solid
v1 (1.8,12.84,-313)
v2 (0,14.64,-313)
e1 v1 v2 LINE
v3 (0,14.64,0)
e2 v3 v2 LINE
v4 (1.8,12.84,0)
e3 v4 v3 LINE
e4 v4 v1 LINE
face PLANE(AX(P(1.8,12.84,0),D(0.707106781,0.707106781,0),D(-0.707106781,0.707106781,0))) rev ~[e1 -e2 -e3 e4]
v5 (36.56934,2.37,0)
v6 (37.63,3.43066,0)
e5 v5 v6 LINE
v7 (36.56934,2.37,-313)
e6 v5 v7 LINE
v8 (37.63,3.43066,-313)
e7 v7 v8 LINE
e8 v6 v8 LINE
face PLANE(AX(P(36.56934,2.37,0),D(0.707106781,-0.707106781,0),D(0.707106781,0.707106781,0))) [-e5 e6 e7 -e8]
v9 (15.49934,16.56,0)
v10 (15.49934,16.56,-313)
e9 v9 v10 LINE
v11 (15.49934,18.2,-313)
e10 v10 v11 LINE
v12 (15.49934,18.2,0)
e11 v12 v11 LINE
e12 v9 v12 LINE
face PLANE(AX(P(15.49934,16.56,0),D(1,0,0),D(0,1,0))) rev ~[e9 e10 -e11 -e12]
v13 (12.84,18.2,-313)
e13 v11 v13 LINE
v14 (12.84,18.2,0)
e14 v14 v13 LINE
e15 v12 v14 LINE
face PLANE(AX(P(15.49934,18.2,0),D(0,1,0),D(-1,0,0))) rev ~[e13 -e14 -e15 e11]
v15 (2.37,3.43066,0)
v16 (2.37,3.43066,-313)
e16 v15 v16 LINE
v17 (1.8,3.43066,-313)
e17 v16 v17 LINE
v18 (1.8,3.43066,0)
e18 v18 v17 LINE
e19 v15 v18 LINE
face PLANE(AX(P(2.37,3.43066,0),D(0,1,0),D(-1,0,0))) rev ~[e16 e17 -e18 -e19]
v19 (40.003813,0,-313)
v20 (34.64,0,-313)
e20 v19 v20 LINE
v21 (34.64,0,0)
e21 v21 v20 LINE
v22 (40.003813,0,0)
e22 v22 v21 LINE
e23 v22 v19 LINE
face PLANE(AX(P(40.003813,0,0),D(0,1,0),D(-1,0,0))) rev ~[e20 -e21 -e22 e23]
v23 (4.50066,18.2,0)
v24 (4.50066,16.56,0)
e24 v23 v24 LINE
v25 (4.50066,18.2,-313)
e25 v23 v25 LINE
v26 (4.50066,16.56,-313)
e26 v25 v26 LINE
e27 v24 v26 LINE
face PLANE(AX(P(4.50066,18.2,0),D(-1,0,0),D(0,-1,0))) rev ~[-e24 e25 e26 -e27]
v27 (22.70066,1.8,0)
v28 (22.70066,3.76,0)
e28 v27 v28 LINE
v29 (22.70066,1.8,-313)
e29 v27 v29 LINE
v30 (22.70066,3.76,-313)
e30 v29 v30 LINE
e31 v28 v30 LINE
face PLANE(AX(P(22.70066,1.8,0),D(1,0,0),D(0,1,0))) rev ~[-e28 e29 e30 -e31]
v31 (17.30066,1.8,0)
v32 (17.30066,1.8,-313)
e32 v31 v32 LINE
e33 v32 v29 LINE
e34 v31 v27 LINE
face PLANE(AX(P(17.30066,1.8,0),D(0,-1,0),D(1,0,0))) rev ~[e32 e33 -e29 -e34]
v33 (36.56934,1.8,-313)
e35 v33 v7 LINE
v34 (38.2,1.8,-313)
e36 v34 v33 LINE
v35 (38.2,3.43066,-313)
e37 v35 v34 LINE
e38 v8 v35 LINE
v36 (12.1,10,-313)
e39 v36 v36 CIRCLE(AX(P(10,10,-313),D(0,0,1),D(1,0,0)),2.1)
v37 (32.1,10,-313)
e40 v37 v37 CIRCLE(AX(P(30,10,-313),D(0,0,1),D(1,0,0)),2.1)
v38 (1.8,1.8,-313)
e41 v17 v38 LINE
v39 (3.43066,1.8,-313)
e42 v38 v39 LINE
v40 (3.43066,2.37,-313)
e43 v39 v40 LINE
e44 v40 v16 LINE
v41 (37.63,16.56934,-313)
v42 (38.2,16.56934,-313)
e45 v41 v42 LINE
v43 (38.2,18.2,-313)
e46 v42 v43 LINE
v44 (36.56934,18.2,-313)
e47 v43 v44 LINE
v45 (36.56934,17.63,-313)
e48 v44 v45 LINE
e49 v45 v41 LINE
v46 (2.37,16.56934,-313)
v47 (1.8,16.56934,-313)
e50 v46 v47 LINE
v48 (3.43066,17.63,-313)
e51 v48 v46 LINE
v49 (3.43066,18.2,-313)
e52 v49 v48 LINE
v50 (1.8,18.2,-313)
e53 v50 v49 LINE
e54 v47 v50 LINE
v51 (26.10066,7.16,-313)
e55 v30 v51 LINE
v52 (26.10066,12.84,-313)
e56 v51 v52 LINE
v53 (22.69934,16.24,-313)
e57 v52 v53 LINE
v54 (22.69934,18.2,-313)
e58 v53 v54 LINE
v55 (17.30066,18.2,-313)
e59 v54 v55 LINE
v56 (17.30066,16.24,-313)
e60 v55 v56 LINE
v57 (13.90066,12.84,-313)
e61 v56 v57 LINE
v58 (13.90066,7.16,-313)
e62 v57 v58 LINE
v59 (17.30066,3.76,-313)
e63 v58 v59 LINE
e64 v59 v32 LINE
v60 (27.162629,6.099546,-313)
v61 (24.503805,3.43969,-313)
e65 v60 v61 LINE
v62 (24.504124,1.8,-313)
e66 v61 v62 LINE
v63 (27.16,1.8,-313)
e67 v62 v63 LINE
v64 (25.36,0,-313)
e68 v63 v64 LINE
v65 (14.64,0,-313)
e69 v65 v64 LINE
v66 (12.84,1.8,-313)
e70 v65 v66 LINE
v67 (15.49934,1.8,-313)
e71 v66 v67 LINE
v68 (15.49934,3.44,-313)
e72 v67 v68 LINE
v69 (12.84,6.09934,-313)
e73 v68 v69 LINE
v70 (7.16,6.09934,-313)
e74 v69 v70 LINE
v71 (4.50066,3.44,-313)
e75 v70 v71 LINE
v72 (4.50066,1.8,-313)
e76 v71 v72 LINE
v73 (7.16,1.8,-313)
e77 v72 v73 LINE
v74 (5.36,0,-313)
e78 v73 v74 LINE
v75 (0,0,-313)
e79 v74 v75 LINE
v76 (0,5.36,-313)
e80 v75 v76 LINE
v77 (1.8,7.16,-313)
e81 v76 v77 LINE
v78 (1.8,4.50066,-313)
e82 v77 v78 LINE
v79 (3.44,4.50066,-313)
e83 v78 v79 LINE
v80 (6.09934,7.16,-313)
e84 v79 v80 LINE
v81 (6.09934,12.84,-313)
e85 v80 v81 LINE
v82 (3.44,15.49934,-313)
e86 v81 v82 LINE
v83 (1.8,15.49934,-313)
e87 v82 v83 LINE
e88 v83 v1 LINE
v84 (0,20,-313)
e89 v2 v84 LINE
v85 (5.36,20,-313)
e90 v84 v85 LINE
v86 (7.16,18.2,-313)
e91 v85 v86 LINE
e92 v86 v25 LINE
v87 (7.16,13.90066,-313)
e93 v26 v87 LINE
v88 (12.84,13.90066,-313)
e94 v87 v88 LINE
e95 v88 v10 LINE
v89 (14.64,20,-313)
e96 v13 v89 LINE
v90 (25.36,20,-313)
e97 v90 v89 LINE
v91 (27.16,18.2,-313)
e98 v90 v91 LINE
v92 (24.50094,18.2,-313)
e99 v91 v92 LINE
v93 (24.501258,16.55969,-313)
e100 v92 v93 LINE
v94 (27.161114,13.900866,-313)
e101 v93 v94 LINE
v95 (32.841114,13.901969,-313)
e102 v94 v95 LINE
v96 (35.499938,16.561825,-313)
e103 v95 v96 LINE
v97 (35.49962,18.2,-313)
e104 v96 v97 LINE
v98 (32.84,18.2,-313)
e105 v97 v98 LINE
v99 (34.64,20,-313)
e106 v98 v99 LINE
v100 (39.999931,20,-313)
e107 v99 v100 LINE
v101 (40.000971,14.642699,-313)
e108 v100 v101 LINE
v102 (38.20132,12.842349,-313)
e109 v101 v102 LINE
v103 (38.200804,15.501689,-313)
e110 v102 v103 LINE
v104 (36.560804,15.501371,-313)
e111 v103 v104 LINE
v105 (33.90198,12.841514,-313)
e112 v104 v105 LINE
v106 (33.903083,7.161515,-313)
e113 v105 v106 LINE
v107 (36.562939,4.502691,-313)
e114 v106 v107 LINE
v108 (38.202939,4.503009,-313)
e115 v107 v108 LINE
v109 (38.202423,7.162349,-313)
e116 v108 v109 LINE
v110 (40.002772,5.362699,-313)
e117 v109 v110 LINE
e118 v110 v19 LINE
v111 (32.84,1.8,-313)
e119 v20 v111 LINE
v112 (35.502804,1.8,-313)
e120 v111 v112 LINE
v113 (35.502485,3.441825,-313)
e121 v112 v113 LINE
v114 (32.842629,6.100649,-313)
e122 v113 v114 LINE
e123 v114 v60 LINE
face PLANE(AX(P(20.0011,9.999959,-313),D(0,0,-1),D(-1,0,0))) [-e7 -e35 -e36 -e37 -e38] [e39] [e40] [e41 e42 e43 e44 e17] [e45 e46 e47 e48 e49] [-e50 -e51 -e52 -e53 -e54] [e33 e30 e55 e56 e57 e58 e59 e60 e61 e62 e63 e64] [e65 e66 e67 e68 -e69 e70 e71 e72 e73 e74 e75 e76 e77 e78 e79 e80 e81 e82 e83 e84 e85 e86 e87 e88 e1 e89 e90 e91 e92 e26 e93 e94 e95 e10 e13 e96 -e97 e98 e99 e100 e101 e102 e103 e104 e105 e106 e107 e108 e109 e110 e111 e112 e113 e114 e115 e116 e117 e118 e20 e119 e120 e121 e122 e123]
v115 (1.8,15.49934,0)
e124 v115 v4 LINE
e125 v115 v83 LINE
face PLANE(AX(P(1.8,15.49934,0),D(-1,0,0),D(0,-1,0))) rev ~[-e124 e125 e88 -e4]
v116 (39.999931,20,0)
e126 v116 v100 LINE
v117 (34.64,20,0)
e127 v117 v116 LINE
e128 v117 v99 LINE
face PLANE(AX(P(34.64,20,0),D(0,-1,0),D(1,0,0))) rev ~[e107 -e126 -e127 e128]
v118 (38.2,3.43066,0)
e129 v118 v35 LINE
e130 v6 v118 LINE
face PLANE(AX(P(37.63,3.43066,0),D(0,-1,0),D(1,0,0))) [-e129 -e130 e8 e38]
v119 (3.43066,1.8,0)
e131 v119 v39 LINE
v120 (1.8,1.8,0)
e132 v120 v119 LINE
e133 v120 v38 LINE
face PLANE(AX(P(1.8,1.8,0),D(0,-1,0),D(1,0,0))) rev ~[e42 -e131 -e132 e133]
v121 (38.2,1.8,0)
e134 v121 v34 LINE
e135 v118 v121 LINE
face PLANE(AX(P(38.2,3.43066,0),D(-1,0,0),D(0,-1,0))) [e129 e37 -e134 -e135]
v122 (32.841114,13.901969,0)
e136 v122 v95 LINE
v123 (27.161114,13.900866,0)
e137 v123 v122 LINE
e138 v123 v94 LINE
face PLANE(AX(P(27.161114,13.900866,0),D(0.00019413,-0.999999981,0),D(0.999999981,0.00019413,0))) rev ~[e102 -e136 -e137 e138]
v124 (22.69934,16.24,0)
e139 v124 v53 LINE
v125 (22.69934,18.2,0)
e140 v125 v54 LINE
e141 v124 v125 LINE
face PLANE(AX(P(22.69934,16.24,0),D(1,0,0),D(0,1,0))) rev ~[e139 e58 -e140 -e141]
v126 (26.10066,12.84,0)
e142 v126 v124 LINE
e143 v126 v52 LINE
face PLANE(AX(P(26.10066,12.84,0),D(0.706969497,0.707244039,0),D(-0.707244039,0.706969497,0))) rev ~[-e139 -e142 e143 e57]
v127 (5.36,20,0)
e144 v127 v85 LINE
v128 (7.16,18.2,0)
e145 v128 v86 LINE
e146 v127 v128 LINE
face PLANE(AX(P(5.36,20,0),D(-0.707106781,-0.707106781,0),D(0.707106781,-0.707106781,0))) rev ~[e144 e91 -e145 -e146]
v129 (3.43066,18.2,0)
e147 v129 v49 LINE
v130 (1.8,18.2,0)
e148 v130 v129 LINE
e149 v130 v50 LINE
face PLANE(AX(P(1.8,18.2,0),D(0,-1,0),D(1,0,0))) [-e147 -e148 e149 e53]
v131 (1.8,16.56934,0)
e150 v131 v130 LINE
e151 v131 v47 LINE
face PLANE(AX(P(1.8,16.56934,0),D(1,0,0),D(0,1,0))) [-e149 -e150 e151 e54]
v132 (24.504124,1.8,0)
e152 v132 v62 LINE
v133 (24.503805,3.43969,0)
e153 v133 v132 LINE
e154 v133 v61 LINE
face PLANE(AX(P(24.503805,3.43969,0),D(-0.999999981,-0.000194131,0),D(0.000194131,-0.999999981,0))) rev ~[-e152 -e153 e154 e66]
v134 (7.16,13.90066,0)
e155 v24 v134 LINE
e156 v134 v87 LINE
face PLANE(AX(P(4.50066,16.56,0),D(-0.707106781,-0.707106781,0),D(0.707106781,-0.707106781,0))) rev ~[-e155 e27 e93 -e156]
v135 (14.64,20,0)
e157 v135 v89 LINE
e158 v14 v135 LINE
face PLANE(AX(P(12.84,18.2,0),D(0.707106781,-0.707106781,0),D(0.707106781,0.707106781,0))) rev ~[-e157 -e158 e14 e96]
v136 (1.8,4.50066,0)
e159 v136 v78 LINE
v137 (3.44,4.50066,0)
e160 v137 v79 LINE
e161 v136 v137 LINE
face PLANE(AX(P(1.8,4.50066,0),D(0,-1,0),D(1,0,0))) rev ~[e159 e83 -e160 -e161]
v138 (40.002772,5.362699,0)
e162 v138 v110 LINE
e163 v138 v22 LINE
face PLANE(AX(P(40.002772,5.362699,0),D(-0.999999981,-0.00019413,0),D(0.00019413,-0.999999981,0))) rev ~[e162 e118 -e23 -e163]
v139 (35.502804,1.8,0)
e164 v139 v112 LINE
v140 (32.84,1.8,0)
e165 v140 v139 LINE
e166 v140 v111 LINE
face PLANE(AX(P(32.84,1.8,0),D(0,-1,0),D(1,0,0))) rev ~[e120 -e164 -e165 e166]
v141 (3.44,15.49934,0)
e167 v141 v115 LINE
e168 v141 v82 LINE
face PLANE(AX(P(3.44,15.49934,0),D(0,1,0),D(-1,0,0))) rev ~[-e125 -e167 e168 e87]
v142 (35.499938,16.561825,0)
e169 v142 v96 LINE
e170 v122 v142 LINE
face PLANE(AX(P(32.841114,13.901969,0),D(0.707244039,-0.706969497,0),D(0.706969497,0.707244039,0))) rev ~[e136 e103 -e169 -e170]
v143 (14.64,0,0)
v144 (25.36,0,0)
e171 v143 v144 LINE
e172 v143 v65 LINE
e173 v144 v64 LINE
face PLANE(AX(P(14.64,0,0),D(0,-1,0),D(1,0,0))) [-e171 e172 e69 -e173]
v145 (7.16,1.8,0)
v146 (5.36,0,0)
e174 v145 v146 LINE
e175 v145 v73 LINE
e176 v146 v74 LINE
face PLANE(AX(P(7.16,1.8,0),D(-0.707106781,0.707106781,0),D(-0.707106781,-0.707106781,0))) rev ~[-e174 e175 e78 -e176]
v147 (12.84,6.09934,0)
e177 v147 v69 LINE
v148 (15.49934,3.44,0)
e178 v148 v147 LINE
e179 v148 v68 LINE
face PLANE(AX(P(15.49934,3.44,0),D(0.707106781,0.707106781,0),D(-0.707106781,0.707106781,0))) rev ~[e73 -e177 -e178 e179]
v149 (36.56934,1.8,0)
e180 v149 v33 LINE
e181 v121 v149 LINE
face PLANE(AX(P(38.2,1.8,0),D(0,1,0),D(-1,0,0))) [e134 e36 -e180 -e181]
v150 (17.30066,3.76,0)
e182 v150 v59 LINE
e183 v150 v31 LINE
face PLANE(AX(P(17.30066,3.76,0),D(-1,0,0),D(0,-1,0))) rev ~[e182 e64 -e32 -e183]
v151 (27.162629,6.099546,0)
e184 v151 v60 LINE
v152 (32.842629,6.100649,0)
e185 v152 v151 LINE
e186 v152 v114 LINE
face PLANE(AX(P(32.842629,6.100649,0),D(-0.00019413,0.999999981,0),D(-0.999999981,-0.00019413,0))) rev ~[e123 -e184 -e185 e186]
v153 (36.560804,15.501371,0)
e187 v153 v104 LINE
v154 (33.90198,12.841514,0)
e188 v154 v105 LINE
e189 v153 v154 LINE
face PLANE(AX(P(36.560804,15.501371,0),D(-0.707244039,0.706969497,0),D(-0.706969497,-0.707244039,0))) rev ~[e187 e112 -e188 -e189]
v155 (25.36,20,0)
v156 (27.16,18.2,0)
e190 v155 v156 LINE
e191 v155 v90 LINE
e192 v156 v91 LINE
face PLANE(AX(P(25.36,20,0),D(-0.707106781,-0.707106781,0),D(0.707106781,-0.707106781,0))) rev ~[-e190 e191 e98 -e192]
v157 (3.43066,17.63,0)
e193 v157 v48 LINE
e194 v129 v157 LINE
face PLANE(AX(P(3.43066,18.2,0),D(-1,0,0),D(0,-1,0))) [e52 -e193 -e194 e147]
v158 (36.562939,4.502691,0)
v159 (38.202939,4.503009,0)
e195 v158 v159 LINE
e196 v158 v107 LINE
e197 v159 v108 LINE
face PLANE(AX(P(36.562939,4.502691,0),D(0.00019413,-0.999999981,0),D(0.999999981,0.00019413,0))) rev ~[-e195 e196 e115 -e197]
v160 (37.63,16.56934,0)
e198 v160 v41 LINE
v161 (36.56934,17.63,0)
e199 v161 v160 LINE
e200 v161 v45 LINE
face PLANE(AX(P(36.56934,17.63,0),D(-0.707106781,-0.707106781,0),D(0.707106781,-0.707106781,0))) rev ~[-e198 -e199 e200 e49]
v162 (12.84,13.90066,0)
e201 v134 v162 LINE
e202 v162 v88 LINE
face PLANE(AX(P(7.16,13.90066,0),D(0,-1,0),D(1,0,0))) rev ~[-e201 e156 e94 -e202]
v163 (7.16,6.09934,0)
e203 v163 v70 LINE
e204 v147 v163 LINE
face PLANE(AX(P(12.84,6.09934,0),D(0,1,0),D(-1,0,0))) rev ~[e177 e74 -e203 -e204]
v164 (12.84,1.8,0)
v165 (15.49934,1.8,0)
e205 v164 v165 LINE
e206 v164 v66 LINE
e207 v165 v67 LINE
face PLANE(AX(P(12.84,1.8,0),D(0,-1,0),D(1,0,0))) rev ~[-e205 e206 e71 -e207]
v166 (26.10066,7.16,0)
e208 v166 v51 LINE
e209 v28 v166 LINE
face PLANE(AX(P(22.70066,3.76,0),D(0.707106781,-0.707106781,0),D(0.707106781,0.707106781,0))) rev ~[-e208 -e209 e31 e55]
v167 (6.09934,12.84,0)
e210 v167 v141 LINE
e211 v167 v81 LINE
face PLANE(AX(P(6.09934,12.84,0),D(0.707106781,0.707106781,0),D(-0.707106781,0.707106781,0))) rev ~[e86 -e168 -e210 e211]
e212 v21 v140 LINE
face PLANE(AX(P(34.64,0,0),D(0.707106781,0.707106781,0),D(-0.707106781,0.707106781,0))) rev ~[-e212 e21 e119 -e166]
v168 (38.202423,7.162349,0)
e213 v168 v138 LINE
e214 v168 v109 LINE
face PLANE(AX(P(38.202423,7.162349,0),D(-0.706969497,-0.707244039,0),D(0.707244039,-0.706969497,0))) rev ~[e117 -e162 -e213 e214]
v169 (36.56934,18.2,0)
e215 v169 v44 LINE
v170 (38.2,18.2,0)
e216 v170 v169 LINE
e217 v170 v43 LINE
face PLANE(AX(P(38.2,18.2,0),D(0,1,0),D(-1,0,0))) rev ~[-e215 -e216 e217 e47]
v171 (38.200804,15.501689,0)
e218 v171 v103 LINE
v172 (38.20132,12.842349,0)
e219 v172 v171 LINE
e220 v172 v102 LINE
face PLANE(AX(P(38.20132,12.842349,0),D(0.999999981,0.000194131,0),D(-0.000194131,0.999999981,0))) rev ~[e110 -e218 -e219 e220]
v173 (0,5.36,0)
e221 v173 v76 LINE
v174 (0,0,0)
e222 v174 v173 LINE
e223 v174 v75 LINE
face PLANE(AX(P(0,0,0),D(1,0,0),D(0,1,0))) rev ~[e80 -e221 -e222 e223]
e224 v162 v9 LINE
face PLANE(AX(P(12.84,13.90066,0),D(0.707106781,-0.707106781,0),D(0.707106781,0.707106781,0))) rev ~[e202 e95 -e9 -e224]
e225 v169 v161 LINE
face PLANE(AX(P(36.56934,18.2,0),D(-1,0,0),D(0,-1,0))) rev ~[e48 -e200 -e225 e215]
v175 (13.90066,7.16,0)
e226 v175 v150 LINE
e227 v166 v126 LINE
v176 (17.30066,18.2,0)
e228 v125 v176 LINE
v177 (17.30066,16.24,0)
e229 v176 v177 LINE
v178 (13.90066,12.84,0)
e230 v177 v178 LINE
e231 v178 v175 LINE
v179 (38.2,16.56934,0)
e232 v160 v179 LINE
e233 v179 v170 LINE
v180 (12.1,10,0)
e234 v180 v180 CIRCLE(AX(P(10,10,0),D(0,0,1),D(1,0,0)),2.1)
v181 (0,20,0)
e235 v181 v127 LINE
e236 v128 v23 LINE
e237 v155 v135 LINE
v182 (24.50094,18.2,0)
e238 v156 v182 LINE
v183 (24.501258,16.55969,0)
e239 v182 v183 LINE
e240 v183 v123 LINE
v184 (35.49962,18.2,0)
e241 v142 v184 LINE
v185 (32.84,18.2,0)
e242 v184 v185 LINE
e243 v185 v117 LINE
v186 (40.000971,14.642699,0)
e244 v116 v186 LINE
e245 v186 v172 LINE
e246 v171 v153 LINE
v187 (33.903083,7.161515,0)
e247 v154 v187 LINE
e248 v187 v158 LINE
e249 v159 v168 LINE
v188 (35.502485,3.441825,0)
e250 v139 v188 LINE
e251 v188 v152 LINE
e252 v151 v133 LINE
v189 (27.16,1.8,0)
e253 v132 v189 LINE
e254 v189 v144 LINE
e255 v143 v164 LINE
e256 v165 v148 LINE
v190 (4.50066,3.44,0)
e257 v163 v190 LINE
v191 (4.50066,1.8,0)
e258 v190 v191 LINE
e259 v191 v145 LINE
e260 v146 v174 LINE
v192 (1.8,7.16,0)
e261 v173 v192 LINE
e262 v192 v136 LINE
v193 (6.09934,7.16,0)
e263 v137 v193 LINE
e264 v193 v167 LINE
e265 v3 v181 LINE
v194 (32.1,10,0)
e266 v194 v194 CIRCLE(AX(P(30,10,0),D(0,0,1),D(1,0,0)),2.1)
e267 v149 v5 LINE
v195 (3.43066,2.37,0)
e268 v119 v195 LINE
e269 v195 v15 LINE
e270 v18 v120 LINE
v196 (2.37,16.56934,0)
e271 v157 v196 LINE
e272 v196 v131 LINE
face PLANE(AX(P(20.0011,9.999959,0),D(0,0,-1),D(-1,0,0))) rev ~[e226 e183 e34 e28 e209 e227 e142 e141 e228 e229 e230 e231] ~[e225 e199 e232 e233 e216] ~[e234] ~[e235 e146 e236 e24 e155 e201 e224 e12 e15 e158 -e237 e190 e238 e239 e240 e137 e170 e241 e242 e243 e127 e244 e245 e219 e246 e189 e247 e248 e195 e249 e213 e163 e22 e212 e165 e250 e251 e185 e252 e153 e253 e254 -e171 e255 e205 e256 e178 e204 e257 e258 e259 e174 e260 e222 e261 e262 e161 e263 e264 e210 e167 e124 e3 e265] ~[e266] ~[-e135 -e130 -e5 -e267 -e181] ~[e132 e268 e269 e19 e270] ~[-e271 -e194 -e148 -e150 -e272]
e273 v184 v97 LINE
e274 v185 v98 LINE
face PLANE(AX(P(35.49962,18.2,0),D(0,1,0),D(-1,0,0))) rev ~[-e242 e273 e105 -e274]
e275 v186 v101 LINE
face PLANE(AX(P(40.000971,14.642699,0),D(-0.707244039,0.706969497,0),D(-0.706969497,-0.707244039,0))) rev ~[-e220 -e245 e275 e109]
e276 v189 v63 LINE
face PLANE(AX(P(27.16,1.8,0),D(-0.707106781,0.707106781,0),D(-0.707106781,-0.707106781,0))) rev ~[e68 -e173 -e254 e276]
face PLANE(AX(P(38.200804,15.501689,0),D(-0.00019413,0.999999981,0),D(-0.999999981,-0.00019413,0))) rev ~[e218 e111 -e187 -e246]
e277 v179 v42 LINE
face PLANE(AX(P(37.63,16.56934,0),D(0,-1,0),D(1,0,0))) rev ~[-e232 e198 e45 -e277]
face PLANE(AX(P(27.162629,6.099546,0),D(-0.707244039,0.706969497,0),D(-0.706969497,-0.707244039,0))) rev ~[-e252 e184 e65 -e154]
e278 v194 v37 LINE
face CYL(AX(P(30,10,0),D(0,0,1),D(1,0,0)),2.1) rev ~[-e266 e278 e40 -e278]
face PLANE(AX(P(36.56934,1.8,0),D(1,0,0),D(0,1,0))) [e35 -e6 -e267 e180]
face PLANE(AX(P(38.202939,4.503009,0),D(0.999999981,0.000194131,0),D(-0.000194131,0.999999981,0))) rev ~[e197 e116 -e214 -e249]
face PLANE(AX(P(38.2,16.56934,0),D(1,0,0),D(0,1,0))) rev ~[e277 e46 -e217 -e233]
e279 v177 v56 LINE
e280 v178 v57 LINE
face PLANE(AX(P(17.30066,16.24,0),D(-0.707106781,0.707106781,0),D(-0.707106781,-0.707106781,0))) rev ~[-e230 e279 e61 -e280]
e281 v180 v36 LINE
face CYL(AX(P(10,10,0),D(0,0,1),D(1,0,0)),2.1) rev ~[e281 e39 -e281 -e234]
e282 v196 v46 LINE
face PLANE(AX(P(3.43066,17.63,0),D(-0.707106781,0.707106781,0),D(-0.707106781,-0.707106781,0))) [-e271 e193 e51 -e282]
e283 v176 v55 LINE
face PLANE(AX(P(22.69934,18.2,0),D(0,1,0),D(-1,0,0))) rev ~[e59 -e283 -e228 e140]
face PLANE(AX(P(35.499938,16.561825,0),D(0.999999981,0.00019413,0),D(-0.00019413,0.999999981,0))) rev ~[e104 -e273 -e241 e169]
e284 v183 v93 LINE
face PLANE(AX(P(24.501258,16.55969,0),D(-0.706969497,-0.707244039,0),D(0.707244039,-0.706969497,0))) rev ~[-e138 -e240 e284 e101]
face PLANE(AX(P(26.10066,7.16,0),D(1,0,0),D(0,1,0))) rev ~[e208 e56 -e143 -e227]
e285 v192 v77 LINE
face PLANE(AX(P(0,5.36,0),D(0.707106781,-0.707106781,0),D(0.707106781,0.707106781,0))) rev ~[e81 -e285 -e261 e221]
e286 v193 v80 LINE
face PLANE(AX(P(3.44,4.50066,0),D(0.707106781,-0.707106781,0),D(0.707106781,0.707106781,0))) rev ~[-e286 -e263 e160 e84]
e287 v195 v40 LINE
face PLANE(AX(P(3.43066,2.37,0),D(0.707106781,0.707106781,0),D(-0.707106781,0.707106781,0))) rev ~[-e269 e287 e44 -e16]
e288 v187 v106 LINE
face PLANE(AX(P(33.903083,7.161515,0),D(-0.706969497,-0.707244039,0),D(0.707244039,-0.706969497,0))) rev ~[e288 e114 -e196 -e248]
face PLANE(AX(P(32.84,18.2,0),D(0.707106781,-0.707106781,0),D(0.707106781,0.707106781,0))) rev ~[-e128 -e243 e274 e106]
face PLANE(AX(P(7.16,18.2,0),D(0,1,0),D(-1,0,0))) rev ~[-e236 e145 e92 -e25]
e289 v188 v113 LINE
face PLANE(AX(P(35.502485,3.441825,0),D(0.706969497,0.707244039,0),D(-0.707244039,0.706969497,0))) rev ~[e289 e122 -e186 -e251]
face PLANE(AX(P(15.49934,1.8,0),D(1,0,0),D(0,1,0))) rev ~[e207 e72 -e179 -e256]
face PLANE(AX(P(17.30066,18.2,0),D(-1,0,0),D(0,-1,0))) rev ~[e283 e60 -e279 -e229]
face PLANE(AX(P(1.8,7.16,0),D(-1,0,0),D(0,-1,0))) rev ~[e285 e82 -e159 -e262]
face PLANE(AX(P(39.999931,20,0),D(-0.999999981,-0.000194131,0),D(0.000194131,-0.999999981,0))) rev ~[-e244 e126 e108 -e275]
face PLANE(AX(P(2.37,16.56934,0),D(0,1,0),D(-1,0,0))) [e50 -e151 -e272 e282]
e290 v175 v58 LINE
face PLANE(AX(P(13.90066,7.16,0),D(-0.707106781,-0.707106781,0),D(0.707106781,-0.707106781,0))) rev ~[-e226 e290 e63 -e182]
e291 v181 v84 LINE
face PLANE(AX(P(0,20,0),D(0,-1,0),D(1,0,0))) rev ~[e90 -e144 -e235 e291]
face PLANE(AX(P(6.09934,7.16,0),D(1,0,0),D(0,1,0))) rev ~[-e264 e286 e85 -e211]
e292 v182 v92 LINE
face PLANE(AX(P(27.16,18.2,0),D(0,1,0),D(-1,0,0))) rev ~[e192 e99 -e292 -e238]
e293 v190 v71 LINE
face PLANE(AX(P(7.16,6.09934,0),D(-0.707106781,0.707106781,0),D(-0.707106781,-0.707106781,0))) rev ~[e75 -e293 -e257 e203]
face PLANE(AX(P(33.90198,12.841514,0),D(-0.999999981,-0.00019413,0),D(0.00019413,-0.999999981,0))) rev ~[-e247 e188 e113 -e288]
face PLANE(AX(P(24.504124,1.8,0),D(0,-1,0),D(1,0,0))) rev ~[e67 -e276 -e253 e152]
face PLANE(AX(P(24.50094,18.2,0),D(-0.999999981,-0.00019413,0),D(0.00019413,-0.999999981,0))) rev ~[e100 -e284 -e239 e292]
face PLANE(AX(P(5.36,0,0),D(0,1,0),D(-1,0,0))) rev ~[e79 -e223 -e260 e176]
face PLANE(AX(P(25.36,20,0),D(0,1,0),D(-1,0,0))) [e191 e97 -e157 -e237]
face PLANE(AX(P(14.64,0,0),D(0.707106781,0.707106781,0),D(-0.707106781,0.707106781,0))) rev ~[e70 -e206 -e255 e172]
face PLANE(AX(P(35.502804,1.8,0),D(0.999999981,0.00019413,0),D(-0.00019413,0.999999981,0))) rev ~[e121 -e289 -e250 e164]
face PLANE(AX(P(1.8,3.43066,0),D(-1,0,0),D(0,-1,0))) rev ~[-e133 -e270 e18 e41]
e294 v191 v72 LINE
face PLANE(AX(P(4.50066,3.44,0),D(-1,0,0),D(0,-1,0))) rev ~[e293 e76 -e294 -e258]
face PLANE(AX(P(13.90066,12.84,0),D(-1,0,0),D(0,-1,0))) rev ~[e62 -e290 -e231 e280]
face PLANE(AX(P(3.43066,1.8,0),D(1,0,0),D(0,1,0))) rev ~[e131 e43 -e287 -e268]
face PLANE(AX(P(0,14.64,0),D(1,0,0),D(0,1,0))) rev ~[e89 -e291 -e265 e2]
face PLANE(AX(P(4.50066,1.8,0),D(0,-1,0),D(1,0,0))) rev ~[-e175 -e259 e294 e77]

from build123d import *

# Parameters (mm, degrees)
SKETCH1_R           = 2.1
BOSS_EXTRUDE1_DEPTH = 313


with BuildPart() as part:
    # Sketch1 → Boss-Extrude1 (new body)
    with BuildSketch(Plane.XY):
        Polygon((0, 0), (0, 5.36), (1.8, 7.16), (1.8, 4.500660172), (3.44, 4.500660172), (6.099339828, 7.16), (6.099339828, 12.84), (3.44, 15.499339828), (1.8, 15.499339828), (1.8, 12.84), (0, 14.64), (0, 20), (5.36, 20), (7.16, 18.2), (4.500660172, 18.2), (4.500660172, 16.56), (7.16, 13.900660172), (12.84, 13.900660172), (15.499339828, 16.56), (15.499339828, 18.2), (12.84, 18.2), (14.64, 20), (20, 20), (25.36, 20), (27.16, 18.2), (24.500939946, 18.2), (24.50125838, 16.559689577), (27.161114417, 13.900866058), (32.84111431, 13.901968719), (35.499937829, 16.561824756), (35.49961981, 18.2), (32.84, 18.2), (34.64, 20), (39.999930631, 20), (40.000970647, 14.642698508), (38.201320116, 12.842349107), (38.200803857, 15.501688885), (36.560803888, 15.501370511), (33.901980368, 12.841514474), (33.903083029, 7.161514581), (36.562939066, 4.502691062), (38.202939036, 4.503009436), (38.202422777, 7.162349214), (40.002772178, 5.362698683), (40.003813241, 0), (34.64, 0), (32.84, 1.8), (35.502803549, 1.8), (35.502484821, 3.441825004), (32.842628784, 6.100648523), (27.162628891, 6.099545862), (24.503805372, 3.439689825), (24.504123686, 1.8), (27.16, 1.8), (25.36, 0), (20, 0), (14.64, 0), (12.84, 1.8), (15.499339828, 1.8), (15.499339828, 3.44), (12.84, 6.099339828), (7.16, 6.099339828), (4.500660172, 3.44), (4.500660172, 1.8), (7.16, 1.8), (5.36, 0), align=None)
        with Locations((10, 10)):
            Circle(SKETCH1_R, mode=Mode.SUBTRACT)
        with Locations((30, 10)):
            Circle(SKETCH1_R, mode=Mode.SUBTRACT)
        Polygon((17.300660172, 3.76), (17.300660172, 1.8), (22.700660172, 1.8), (22.700660172, 3.76), (26.100660172, 7.16), (26.100660172, 12.84), (22.699339828, 16.24), (22.699339828, 18.2), (17.300660172, 18.2), (17.300660172, 16.24), (13.900660172, 12.84), (13.900660172, 7.16), align=None, mode=Mode.SUBTRACT)
        Polygon((1.8, 18.2), (3.430660172, 18.2), (3.430660172, 17.63), (2.37, 16.569339828), (1.8, 16.569339828), align=None, mode=Mode.SUBTRACT)
        Polygon((1.8, 3.430660172), (1.8, 1.8), (3.430660172, 1.8), (3.430660172, 2.37), (2.37, 3.430660172), align=None, mode=Mode.SUBTRACT)
        Polygon((38.2, 1.8), (36.569339828, 1.8), (36.569339828, 2.37), (37.63, 3.430660172), (38.2, 3.430660172), align=None, mode=Mode.SUBTRACT)
        Polygon((38.2, 16.569339828), (38.2, 18.2), (36.569339828, 18.2), (36.569339828, 17.63), (37.63, 16.569339828), align=None, mode=Mode.SUBTRACT)
    extrude(amount=-BOSS_EXTRUDE1_DEPTH)


solid = part.part
